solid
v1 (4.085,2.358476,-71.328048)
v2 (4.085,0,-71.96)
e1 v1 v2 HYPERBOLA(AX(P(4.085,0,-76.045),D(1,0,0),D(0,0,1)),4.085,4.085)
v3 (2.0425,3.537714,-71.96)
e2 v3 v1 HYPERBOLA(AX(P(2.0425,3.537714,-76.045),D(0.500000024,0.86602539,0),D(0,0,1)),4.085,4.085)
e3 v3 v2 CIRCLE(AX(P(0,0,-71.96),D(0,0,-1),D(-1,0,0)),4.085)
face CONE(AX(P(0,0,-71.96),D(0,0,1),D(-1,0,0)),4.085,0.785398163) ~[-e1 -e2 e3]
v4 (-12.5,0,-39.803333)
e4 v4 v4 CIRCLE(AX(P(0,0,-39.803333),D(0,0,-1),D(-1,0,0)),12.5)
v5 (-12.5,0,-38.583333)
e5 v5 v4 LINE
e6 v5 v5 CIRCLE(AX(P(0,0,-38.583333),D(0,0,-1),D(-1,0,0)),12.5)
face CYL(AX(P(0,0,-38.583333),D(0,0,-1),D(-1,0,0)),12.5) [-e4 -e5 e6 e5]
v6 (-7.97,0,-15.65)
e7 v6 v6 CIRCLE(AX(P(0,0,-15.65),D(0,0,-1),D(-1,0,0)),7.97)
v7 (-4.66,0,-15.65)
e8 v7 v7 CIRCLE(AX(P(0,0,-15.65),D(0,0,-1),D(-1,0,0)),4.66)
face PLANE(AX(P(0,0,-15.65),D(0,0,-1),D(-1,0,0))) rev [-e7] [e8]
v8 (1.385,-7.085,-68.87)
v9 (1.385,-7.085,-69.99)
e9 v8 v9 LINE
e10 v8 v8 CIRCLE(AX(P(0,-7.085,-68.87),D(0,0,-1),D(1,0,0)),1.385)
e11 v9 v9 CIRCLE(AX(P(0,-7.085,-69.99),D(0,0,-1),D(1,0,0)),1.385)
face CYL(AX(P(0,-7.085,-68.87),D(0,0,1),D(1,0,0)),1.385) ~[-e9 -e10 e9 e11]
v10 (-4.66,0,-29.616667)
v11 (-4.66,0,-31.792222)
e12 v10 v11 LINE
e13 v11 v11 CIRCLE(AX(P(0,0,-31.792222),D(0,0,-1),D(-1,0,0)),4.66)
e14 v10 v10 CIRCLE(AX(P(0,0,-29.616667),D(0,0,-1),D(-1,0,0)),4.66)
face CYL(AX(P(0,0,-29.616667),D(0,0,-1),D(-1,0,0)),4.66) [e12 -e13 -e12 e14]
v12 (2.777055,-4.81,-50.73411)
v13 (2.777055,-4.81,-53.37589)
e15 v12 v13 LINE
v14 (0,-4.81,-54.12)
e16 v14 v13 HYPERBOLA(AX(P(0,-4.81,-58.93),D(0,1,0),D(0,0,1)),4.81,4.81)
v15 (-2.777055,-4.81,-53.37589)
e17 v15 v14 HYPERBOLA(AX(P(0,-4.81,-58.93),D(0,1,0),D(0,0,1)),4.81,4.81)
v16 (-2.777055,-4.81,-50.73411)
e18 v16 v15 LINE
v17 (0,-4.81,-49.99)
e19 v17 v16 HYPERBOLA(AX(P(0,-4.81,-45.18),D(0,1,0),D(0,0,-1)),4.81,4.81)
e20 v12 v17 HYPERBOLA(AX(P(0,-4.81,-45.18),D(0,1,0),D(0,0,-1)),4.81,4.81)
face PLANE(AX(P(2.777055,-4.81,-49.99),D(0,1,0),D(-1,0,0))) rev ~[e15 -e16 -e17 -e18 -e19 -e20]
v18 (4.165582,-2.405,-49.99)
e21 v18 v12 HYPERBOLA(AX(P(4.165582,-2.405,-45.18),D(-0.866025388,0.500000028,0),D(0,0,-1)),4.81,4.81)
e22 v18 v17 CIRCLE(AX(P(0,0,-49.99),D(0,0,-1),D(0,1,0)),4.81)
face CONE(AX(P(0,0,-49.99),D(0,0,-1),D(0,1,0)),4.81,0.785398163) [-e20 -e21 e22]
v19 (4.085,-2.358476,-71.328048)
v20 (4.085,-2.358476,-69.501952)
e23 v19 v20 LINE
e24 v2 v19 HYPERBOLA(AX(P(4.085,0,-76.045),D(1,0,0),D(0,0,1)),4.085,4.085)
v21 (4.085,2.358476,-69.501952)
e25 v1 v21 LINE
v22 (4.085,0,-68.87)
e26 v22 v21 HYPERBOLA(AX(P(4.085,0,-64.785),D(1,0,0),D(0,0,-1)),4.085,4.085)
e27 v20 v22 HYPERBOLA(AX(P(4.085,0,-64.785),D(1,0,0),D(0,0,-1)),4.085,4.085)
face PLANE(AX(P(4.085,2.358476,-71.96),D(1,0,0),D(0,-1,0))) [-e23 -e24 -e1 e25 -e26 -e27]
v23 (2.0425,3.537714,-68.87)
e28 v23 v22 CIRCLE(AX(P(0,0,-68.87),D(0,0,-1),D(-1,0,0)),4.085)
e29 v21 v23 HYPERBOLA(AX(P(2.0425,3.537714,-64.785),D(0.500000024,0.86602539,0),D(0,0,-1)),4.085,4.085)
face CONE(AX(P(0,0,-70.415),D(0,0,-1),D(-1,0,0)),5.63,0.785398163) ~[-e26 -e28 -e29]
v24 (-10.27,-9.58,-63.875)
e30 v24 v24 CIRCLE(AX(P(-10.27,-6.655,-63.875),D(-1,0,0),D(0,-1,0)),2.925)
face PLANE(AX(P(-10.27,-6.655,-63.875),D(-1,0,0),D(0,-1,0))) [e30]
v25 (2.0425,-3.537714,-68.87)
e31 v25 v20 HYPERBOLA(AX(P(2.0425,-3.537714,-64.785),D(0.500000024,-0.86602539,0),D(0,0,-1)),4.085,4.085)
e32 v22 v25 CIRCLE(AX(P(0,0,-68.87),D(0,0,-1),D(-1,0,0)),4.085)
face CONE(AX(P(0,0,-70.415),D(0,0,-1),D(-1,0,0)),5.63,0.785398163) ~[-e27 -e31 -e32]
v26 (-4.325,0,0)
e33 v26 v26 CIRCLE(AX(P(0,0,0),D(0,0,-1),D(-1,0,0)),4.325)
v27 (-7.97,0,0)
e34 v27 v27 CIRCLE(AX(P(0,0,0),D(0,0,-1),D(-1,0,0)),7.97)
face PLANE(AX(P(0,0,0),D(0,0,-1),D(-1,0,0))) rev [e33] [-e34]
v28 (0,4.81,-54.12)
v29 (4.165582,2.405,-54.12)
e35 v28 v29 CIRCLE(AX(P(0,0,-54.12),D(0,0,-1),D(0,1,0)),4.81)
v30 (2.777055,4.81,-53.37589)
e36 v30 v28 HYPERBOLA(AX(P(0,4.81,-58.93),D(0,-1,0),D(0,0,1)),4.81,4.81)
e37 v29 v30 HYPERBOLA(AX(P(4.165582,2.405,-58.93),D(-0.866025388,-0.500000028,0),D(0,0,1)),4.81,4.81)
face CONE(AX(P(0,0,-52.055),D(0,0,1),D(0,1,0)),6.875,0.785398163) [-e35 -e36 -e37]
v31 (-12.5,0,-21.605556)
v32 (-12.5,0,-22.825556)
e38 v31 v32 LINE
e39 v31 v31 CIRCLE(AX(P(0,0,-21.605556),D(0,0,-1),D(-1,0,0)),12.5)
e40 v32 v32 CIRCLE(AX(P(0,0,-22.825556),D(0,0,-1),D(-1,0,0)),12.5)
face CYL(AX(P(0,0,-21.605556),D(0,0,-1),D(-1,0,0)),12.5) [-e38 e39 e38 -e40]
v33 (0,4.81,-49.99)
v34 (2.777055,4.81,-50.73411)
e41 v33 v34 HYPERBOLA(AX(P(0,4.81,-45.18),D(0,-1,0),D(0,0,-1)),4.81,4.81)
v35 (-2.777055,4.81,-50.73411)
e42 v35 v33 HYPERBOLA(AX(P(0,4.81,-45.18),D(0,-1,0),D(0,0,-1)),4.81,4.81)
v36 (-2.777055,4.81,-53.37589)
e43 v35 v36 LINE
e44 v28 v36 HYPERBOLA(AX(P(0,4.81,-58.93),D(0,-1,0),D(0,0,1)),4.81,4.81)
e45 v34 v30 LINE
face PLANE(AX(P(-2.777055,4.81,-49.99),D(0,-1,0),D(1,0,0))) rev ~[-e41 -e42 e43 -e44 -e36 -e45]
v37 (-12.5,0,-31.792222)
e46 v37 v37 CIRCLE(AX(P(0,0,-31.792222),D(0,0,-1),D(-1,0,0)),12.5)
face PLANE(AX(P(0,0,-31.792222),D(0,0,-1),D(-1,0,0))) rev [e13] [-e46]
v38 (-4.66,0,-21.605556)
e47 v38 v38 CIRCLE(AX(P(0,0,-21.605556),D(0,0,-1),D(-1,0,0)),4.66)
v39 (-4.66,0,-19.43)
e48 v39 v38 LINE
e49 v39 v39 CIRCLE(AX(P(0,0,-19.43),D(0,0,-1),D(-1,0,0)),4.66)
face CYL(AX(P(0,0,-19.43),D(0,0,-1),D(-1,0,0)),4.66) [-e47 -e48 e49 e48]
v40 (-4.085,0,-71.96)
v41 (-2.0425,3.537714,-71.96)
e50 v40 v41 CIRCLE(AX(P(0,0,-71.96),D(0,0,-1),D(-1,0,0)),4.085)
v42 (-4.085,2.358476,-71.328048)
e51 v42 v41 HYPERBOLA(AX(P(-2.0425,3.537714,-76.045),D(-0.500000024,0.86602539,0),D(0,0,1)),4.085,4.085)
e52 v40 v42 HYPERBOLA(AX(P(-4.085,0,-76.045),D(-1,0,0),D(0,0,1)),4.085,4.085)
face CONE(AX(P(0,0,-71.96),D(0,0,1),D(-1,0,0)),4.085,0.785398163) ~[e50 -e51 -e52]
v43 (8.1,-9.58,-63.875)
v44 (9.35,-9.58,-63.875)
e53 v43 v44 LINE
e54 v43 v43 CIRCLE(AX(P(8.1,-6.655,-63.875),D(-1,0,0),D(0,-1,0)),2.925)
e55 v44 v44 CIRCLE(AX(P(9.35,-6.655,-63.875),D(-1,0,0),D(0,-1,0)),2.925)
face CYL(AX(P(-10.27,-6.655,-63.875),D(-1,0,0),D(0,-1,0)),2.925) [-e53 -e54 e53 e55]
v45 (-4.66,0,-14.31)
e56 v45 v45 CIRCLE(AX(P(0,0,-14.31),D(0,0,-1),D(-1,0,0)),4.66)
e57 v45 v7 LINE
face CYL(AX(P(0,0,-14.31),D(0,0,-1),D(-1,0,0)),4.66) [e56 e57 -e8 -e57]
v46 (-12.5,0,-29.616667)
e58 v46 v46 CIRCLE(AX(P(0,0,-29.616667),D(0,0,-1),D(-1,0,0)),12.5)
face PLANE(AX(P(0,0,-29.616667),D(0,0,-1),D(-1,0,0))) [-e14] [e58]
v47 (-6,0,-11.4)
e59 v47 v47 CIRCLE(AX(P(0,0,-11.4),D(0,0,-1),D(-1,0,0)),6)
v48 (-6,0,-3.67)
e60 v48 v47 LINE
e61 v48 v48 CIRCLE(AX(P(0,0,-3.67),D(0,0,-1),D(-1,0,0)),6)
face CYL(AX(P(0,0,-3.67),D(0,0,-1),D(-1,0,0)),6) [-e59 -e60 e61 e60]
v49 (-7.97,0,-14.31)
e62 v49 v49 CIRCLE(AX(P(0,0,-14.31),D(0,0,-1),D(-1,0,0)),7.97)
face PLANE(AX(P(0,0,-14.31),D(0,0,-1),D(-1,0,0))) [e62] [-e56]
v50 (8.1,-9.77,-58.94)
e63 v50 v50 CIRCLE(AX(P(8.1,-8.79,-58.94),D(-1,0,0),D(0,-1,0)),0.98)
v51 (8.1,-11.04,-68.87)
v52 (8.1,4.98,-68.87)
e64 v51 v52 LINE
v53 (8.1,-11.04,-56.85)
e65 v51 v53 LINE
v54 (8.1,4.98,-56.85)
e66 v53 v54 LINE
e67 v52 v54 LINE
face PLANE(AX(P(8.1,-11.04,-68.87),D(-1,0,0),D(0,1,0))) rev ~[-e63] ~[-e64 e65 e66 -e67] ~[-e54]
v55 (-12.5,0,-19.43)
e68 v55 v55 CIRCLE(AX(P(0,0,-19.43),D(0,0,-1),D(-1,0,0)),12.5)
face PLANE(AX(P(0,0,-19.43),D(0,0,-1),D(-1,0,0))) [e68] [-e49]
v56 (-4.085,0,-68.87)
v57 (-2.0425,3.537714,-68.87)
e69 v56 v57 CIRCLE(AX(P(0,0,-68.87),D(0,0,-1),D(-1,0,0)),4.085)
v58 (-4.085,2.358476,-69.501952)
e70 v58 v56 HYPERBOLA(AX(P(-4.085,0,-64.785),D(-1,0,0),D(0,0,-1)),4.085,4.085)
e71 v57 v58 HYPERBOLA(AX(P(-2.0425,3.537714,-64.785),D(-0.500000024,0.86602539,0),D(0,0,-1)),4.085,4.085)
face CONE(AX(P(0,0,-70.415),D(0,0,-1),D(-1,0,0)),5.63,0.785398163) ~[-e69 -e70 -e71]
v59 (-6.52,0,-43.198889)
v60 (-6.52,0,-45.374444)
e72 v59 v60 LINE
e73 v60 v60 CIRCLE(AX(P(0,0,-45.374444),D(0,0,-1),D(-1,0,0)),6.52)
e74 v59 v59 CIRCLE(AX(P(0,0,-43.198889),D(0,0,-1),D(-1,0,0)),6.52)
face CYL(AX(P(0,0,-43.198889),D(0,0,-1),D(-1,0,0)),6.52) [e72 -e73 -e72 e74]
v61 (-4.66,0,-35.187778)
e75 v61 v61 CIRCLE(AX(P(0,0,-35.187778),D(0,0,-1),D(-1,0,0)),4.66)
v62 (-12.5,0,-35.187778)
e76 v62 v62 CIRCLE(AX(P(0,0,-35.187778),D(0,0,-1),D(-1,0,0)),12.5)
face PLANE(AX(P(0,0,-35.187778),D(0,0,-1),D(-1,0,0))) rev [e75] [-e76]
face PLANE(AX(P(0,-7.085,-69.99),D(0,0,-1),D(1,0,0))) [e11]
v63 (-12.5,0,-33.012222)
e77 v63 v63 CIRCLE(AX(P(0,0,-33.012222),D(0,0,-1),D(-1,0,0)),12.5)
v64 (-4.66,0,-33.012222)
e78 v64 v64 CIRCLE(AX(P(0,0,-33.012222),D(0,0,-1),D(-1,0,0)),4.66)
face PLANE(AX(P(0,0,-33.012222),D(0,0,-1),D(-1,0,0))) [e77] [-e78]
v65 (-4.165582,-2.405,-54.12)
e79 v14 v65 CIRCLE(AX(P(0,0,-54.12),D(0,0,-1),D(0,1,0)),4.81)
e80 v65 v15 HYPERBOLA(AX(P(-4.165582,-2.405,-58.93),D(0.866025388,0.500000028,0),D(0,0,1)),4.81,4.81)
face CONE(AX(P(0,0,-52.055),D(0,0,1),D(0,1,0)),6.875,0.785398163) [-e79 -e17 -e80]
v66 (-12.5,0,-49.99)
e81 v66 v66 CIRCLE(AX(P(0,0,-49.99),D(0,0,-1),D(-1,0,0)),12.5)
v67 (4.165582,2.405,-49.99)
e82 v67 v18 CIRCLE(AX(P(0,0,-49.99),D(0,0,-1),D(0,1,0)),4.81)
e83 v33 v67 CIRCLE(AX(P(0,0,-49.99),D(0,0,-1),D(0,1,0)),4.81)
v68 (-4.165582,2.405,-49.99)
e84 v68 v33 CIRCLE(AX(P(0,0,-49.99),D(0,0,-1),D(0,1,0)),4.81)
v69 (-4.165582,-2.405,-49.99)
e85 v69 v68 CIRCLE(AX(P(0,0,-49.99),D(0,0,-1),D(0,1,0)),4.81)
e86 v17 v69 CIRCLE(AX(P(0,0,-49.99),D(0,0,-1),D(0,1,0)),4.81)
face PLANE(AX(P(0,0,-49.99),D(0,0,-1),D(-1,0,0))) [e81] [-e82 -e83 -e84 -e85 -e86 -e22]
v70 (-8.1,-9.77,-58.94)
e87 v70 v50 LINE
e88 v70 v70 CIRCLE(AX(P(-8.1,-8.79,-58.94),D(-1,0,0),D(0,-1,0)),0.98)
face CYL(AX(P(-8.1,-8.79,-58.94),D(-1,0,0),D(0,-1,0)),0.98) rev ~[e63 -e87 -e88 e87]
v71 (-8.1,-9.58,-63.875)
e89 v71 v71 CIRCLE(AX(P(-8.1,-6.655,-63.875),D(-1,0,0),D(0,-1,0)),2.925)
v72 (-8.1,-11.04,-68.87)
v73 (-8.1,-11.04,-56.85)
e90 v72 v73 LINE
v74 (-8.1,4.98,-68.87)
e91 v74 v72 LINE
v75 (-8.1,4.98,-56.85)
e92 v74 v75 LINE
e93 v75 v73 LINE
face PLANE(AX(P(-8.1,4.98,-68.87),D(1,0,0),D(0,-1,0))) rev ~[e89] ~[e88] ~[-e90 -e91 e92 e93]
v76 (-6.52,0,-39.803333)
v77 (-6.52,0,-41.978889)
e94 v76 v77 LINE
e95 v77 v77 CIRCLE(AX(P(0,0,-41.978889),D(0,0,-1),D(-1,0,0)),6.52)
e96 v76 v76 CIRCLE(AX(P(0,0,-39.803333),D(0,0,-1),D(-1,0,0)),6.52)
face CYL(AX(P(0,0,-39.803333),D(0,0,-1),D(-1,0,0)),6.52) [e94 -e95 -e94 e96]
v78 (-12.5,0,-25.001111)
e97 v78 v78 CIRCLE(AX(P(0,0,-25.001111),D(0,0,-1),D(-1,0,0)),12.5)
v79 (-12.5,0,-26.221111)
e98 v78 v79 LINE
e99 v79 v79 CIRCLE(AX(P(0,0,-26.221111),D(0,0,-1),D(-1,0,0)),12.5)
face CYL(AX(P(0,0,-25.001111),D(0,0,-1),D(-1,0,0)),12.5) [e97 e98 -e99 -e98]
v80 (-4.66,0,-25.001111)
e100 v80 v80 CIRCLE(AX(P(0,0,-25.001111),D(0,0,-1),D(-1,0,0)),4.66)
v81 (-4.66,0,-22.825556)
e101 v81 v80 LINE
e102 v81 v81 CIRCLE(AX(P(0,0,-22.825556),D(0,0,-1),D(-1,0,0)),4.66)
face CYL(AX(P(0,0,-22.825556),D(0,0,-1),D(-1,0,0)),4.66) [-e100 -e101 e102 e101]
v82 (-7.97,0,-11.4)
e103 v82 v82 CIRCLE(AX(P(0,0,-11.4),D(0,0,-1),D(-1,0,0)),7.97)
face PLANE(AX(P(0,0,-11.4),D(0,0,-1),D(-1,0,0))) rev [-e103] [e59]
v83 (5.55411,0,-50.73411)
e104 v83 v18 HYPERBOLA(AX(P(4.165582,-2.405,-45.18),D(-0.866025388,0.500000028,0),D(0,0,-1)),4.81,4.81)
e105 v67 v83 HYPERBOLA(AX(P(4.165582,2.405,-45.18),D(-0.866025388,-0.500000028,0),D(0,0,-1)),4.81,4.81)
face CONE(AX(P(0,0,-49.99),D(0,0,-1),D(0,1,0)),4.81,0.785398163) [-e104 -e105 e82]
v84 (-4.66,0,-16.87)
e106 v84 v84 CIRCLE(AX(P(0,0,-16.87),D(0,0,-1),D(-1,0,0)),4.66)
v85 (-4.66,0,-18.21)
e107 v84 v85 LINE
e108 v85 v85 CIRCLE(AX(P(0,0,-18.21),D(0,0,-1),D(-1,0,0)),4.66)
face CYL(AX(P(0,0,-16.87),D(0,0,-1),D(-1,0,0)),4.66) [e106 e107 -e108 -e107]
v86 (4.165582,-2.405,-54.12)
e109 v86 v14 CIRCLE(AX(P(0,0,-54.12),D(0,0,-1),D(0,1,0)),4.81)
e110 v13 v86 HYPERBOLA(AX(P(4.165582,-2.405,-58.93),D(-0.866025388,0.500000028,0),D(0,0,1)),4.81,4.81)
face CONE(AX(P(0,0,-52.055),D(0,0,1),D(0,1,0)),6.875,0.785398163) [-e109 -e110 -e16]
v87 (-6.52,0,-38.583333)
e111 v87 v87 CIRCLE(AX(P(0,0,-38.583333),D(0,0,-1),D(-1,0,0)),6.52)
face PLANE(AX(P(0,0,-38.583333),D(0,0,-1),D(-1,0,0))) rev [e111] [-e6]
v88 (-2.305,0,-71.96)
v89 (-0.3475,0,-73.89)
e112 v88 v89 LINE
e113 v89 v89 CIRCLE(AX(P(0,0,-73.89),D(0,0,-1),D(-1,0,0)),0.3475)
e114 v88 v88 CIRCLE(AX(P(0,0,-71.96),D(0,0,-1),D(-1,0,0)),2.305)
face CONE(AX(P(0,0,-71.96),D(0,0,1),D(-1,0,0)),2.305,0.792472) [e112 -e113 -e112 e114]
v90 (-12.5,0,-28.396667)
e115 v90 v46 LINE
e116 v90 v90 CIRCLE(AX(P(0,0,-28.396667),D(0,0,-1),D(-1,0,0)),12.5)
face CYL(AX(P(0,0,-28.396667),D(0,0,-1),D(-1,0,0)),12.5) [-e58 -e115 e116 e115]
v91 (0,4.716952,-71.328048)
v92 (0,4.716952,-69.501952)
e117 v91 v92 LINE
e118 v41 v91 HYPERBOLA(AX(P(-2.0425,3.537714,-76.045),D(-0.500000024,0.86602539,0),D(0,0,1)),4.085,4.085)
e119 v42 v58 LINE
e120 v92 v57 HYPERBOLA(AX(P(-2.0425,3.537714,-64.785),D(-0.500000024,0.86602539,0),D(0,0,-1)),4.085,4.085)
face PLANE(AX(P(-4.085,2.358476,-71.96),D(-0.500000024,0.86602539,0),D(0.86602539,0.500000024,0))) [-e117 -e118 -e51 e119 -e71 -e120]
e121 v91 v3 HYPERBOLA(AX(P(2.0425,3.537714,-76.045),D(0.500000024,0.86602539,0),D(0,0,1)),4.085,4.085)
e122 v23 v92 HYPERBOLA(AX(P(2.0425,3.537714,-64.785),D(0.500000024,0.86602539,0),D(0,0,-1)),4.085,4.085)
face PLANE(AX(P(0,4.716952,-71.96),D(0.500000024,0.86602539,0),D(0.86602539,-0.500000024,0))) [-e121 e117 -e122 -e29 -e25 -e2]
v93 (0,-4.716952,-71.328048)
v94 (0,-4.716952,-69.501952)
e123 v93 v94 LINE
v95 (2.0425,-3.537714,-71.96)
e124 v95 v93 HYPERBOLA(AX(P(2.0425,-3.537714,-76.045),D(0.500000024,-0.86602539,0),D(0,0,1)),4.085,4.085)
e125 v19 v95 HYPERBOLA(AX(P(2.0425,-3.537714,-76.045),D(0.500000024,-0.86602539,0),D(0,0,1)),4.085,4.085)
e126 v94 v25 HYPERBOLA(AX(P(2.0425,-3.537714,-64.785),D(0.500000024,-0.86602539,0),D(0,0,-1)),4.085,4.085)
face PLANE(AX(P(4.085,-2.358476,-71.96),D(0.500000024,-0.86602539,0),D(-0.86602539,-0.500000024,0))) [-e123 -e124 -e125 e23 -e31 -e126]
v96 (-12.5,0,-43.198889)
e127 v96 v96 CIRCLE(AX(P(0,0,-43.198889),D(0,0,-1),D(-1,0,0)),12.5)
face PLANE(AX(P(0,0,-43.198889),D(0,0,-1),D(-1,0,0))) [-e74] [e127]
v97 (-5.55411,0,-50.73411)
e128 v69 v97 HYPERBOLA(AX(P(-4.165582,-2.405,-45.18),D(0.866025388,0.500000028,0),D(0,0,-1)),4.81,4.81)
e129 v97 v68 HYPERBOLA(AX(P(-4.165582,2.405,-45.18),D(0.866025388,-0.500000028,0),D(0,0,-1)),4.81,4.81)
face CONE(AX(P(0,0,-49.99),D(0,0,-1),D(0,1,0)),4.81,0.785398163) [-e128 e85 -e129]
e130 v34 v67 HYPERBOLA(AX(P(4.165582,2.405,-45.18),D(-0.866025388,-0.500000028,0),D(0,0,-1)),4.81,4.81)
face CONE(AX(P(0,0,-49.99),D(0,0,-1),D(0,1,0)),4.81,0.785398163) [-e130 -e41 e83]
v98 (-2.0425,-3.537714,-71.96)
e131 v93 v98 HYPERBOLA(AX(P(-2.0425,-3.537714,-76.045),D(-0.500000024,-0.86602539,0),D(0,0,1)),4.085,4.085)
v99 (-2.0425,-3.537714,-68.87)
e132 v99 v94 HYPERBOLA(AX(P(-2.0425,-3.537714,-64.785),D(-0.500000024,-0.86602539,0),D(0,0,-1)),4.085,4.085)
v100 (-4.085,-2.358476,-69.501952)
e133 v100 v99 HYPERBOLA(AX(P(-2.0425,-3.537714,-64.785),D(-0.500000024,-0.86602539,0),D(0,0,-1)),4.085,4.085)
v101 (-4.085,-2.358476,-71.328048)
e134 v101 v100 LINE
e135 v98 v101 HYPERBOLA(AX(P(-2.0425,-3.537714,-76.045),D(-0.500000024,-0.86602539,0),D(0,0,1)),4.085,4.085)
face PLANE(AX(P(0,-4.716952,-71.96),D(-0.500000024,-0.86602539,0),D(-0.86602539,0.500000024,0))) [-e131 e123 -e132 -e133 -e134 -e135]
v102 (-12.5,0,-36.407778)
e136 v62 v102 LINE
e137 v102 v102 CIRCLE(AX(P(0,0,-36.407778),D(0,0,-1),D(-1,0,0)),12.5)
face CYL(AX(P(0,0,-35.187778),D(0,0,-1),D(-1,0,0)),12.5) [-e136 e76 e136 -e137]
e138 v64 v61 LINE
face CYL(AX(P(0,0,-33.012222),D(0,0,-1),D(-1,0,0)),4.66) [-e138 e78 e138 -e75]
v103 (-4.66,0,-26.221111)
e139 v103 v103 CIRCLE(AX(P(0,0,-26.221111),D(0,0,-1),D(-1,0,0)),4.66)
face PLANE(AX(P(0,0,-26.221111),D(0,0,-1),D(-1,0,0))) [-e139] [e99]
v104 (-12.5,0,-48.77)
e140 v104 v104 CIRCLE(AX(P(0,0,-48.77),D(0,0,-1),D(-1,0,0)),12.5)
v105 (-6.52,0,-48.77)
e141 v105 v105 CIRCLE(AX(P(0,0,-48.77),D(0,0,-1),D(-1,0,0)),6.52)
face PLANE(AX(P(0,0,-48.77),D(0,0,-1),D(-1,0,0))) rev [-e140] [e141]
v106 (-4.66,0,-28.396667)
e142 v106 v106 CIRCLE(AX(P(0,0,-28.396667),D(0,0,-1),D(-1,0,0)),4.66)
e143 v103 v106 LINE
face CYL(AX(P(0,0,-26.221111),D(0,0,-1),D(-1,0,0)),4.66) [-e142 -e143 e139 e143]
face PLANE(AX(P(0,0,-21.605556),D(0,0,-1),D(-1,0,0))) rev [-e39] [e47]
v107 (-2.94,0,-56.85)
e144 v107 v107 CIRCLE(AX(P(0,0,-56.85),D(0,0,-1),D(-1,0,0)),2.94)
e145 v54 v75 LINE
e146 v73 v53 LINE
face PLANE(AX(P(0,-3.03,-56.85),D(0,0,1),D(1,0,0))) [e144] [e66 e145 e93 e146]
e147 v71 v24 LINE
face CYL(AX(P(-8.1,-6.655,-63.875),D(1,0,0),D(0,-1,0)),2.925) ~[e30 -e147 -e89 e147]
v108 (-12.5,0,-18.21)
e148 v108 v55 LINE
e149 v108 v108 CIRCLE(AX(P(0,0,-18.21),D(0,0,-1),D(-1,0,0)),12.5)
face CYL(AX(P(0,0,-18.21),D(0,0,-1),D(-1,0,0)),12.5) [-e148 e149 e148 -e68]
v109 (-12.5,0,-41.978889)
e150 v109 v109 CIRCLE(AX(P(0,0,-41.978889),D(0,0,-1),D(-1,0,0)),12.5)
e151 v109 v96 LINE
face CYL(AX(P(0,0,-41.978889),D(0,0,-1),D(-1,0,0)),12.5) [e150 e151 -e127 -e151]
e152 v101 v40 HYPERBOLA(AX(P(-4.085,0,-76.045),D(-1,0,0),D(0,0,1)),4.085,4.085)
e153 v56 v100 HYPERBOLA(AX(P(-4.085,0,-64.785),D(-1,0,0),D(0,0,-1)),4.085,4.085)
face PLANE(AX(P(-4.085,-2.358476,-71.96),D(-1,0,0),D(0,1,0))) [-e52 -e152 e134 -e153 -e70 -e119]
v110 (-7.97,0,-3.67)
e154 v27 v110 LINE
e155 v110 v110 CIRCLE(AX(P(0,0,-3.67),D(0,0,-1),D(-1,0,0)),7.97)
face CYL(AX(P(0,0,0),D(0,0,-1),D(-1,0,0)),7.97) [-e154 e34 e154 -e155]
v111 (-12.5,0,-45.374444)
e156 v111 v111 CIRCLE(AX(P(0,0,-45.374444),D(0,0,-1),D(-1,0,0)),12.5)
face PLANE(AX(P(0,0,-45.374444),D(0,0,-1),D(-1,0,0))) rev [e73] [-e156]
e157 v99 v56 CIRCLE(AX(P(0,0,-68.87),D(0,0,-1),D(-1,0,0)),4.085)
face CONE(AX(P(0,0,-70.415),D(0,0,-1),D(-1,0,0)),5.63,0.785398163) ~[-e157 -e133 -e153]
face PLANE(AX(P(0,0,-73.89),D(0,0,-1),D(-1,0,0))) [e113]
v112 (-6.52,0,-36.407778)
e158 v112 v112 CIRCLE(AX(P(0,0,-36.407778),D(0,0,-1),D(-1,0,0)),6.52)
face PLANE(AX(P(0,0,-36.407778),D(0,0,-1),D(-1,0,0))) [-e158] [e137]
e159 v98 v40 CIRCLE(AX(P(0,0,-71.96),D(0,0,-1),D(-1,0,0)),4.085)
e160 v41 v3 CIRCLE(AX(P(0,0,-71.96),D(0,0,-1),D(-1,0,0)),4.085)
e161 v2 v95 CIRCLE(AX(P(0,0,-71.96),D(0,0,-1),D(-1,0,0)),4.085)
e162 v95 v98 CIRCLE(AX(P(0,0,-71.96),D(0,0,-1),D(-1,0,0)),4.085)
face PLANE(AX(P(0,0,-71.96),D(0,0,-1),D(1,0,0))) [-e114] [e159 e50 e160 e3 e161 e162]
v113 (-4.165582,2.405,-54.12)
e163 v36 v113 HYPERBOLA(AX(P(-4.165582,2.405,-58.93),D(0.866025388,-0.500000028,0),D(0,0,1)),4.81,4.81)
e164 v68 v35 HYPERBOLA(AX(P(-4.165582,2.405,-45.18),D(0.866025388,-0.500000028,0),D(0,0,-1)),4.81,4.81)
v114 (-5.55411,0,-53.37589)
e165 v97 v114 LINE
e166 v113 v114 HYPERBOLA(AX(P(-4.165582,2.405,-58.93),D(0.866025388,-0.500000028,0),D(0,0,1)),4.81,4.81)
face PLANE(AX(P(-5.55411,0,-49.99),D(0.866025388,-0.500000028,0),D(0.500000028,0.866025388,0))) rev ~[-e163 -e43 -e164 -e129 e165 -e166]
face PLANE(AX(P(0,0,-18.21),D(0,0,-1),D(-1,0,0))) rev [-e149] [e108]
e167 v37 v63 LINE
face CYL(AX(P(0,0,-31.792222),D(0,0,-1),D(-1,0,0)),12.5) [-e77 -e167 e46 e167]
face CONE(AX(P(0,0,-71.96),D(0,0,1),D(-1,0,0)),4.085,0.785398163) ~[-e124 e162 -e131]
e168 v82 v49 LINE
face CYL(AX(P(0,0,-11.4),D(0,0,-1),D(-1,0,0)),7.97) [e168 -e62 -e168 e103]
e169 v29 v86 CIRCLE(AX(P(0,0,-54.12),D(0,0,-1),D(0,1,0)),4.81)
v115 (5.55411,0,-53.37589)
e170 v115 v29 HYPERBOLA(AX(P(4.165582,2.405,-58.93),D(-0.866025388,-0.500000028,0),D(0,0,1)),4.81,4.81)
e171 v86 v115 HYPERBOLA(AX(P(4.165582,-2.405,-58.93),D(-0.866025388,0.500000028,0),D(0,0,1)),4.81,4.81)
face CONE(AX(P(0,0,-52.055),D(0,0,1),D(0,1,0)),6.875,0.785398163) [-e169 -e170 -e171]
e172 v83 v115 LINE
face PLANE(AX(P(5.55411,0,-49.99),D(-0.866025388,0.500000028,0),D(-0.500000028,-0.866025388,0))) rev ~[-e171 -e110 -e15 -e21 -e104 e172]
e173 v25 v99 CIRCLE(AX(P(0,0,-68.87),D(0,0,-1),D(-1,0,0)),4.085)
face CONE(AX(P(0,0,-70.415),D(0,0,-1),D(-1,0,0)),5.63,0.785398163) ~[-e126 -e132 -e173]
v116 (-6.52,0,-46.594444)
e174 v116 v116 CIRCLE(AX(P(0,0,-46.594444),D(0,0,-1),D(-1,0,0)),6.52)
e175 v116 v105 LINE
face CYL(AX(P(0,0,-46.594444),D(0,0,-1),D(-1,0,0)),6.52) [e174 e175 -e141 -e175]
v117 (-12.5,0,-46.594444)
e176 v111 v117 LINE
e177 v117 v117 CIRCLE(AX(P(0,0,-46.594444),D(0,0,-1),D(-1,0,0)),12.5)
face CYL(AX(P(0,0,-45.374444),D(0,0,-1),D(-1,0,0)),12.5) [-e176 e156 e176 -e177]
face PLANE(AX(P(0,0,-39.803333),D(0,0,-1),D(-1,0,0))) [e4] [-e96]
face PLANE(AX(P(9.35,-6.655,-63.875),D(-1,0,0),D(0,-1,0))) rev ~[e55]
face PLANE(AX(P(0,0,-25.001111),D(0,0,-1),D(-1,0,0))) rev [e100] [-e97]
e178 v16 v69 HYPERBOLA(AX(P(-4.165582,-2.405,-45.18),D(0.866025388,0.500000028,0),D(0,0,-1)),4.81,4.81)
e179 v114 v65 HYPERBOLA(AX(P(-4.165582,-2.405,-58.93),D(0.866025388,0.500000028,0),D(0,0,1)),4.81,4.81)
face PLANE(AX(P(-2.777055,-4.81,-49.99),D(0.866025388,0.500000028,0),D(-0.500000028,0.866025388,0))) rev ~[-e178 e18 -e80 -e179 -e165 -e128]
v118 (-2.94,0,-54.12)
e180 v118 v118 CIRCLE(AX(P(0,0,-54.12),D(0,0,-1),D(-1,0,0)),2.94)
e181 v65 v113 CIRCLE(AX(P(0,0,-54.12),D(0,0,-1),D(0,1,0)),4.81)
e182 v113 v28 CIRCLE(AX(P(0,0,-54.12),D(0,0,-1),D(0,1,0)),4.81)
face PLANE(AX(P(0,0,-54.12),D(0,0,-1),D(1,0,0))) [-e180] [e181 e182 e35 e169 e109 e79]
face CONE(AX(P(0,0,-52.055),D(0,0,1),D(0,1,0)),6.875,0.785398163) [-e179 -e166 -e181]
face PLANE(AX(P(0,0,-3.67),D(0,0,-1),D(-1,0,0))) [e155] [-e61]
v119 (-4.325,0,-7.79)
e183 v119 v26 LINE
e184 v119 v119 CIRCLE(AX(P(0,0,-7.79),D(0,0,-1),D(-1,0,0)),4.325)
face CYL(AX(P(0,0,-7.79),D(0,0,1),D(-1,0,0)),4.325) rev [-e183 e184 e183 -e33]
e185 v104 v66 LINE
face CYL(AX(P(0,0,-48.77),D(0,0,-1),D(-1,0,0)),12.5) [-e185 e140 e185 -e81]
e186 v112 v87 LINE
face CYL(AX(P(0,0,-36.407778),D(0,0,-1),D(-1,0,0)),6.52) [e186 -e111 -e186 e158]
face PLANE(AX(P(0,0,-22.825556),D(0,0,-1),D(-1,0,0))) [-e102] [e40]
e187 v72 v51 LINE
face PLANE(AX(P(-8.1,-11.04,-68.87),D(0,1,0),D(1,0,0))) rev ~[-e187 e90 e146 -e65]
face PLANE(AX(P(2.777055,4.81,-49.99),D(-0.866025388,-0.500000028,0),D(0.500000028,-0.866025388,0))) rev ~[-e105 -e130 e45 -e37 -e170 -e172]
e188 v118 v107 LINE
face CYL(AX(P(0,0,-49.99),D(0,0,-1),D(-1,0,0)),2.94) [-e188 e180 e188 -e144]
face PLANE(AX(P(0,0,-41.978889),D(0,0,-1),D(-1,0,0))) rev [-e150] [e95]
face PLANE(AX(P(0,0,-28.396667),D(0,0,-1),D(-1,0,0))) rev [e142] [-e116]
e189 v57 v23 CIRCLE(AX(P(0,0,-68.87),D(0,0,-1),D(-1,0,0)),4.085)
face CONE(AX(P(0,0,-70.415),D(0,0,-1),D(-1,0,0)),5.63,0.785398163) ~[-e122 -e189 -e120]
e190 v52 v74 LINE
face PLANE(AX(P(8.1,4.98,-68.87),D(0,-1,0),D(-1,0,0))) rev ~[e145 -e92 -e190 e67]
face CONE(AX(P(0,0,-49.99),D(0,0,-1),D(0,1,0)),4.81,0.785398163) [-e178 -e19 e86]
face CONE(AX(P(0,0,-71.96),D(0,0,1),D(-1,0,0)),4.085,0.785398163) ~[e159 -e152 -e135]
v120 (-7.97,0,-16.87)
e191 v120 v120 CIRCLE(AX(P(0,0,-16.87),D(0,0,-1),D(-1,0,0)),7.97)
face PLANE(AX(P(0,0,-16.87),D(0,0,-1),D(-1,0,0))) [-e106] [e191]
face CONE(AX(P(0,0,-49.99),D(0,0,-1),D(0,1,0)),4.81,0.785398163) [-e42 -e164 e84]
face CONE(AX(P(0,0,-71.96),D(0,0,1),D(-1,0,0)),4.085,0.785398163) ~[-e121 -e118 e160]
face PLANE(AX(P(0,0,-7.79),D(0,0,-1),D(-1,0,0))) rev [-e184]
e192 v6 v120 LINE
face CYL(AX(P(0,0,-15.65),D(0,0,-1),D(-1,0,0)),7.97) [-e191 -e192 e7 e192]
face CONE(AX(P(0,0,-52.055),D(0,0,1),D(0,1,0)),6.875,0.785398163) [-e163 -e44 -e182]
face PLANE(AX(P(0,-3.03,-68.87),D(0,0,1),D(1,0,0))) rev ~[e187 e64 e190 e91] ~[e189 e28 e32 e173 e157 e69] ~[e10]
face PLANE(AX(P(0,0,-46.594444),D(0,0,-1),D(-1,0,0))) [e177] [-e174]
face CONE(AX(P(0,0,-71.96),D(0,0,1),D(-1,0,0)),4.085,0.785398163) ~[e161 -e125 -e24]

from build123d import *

# Parameters (mm, degrees)
F3_DEPTH   = 3.09
F7_DEPTH   = 12.02
F8_R       = 0.98
F9_DEPTH   = 20.601
F8_R_2     = 2.925
F10_DEPTH  = 2.17
F10_FACE_R = 2.925
F11_DEPTH  = 19.62
F12_R      = 1.385
F13_DEPTH  = 1.12
F15_DEPTH  = 4.13


with BuildPart() as f1:
    # F0 (on Front) → F1 (revolve)
    with BuildSketch(Plane.XZ):
        Polygon((0, -73.89), (0, -7.79), (-4.325, -7.79), (-4.325, 0), (-7.97, 0), (-7.97, -3.67), (-6, -3.67), (-6, -11.4), (-7.97, -11.4), (-7.97, -14.31), (-4.66, -14.31), (-4.66, -15.65), (-7.97, -15.65), (-7.97, -16.87), (-4.66, -16.87), (-4.66, -18.21), (-12.5, -18.21), (-12.5, -19.43), (-4.66, -19.43), (-4.66, -21.605556), (-12.5, -21.605556), (-12.5, -22.825556), (-4.66, -22.825556), (-4.66, -25.001111), (-12.5, -25.001111), (-12.5, -26.221111), (-4.66, -26.221111), (-4.66, -28.396667), (-12.5, -28.396667), (-12.5, -29.616667), (-4.66, -29.616667), (-4.66, -31.792222), (-12.5, -31.792222), (-12.5, -33.012222), (-4.66, -33.012222), (-4.66, -35.187778), (-12.5, -35.187778), (-12.5, -36.407778), (-6.52, -36.407778), (-6.52, -38.583333), (-12.5, -38.583333), (-12.5, -39.803333), (-6.52, -39.803333), (-6.52, -41.978889), (-12.5, -41.978889), (-12.5, -43.198889), (-6.52, -43.198889), (-6.52, -45.374444), (-12.5, -45.374444), (-12.5, -46.594444), (-6.52, -46.594444), (-6.52, -48.77), (-12.5, -48.77), (-12.5, -49.99), (-2.94, -49.99), (-2.94, -71.96), (-2.305, -71.96), (-0.3475, -73.89), align=None)
    revolve(axis=Axis((0, 0, -36.945), (0, 0, -1)))

    # F2 (on face) → F3 (join)
    with BuildSketch(Plane(origin=(0, 0, -71.96), x_dir=(1, 0, 0), z_dir=(0, 0, -1))):
        Polygon((-4.085, 2.358476), (-4.085, -2.358476), (0, -4.716952), (4.085, -2.358476), (4.085, 2.358476), (0, 4.716952), align=None)
    extrude(amount=-F3_DEPTH)

    # F4 (on Front) → F5 (revolve, cut)
    with BuildSketch(Plane.XZ):
        Polygon((-4.085, -72.96), (-4.085, -71.96), (-5.63, -70.415), (-4.085, -68.87), (-4.085, -67.87), (-7.085, -67.87), (-7.085, -72.96), align=None)
    revolve(axis=Axis((0, 0, -72.455682), (0, 0, -1)), mode=Mode.SUBTRACT)

    # F6 (on face) → F7 (join)
    with BuildSketch(Plane.XY.offset(-68.87)):
        Polygon((-8.1, -11.04), (0, -11.04), (8.1, -11.04), (8.1, 4.98), (0, 4.98), (-8.1, 4.98), align=None)
    extrude(amount=F7_DEPTH)

    # F8 (on face) → F9 (cut, through all)
    with BuildSketch(Plane(origin=(-8.1, 0, 0), x_dir=(0, -1, 0), z_dir=(-1, 0, 0))):
        with Locations((8.79, -58.94)):
            Circle(F8_R)
    extrude(amount=-F9_DEPTH, mode=Mode.SUBTRACT)

    # F8 (on face) → F10 (join)
    with BuildSketch(Plane(origin=(-8.1, 0, 0), x_dir=(0, -1, 0), z_dir=(-1, 0, 0))):
        with Locations((6.655, -63.875)):
            Circle(F8_R_2)
    extrude(amount=F10_DEPTH)

    # F10_face (on face) → F11 (join)
    with BuildSketch(Plane(origin=(-10.27, -6.655, -63.875), x_dir=(0, -1, 0), z_dir=(-1, 0, 0))):
        Circle(F10_FACE_R)
    extrude(amount=-F11_DEPTH)

    # F12 (on face) → F13 (join)
    with BuildSketch(Plane(origin=(0, 0, -68.87), x_dir=(1, 0, 0), z_dir=(0, 0, -1))):
        with Locations((0, 7.085)):
            Circle(F12_R)
    extrude(amount=F13_DEPTH)

    # F14 (on face) → F15 (join)
    with BuildSketch(Plane(origin=(0, 0, -49.99), x_dir=(1, 0, 0), z_dir=(0, 0, -1))):
        Polygon((2.777055, 4.81), (-2.777055, 4.81), (-5.55411, 0), (-2.777055, -4.81), (2.777055, -4.81), (5.55411, 0), align=None)
    extrude(amount=F15_DEPTH)

    # F16 (on Right) → F17 (revolve, cut)
    with BuildSketch(Plane.YZ):
        Polygon((6.875, -52.055), (4.81, -54.12), (8.81, -54.12), (8.81, -49.99), (4.81, -49.99), align=None)
    revolve(axis=Axis((0, 0, -29.465), (0, 0, -1)), mode=Mode.SUBTRACT)


solid = f1.part
